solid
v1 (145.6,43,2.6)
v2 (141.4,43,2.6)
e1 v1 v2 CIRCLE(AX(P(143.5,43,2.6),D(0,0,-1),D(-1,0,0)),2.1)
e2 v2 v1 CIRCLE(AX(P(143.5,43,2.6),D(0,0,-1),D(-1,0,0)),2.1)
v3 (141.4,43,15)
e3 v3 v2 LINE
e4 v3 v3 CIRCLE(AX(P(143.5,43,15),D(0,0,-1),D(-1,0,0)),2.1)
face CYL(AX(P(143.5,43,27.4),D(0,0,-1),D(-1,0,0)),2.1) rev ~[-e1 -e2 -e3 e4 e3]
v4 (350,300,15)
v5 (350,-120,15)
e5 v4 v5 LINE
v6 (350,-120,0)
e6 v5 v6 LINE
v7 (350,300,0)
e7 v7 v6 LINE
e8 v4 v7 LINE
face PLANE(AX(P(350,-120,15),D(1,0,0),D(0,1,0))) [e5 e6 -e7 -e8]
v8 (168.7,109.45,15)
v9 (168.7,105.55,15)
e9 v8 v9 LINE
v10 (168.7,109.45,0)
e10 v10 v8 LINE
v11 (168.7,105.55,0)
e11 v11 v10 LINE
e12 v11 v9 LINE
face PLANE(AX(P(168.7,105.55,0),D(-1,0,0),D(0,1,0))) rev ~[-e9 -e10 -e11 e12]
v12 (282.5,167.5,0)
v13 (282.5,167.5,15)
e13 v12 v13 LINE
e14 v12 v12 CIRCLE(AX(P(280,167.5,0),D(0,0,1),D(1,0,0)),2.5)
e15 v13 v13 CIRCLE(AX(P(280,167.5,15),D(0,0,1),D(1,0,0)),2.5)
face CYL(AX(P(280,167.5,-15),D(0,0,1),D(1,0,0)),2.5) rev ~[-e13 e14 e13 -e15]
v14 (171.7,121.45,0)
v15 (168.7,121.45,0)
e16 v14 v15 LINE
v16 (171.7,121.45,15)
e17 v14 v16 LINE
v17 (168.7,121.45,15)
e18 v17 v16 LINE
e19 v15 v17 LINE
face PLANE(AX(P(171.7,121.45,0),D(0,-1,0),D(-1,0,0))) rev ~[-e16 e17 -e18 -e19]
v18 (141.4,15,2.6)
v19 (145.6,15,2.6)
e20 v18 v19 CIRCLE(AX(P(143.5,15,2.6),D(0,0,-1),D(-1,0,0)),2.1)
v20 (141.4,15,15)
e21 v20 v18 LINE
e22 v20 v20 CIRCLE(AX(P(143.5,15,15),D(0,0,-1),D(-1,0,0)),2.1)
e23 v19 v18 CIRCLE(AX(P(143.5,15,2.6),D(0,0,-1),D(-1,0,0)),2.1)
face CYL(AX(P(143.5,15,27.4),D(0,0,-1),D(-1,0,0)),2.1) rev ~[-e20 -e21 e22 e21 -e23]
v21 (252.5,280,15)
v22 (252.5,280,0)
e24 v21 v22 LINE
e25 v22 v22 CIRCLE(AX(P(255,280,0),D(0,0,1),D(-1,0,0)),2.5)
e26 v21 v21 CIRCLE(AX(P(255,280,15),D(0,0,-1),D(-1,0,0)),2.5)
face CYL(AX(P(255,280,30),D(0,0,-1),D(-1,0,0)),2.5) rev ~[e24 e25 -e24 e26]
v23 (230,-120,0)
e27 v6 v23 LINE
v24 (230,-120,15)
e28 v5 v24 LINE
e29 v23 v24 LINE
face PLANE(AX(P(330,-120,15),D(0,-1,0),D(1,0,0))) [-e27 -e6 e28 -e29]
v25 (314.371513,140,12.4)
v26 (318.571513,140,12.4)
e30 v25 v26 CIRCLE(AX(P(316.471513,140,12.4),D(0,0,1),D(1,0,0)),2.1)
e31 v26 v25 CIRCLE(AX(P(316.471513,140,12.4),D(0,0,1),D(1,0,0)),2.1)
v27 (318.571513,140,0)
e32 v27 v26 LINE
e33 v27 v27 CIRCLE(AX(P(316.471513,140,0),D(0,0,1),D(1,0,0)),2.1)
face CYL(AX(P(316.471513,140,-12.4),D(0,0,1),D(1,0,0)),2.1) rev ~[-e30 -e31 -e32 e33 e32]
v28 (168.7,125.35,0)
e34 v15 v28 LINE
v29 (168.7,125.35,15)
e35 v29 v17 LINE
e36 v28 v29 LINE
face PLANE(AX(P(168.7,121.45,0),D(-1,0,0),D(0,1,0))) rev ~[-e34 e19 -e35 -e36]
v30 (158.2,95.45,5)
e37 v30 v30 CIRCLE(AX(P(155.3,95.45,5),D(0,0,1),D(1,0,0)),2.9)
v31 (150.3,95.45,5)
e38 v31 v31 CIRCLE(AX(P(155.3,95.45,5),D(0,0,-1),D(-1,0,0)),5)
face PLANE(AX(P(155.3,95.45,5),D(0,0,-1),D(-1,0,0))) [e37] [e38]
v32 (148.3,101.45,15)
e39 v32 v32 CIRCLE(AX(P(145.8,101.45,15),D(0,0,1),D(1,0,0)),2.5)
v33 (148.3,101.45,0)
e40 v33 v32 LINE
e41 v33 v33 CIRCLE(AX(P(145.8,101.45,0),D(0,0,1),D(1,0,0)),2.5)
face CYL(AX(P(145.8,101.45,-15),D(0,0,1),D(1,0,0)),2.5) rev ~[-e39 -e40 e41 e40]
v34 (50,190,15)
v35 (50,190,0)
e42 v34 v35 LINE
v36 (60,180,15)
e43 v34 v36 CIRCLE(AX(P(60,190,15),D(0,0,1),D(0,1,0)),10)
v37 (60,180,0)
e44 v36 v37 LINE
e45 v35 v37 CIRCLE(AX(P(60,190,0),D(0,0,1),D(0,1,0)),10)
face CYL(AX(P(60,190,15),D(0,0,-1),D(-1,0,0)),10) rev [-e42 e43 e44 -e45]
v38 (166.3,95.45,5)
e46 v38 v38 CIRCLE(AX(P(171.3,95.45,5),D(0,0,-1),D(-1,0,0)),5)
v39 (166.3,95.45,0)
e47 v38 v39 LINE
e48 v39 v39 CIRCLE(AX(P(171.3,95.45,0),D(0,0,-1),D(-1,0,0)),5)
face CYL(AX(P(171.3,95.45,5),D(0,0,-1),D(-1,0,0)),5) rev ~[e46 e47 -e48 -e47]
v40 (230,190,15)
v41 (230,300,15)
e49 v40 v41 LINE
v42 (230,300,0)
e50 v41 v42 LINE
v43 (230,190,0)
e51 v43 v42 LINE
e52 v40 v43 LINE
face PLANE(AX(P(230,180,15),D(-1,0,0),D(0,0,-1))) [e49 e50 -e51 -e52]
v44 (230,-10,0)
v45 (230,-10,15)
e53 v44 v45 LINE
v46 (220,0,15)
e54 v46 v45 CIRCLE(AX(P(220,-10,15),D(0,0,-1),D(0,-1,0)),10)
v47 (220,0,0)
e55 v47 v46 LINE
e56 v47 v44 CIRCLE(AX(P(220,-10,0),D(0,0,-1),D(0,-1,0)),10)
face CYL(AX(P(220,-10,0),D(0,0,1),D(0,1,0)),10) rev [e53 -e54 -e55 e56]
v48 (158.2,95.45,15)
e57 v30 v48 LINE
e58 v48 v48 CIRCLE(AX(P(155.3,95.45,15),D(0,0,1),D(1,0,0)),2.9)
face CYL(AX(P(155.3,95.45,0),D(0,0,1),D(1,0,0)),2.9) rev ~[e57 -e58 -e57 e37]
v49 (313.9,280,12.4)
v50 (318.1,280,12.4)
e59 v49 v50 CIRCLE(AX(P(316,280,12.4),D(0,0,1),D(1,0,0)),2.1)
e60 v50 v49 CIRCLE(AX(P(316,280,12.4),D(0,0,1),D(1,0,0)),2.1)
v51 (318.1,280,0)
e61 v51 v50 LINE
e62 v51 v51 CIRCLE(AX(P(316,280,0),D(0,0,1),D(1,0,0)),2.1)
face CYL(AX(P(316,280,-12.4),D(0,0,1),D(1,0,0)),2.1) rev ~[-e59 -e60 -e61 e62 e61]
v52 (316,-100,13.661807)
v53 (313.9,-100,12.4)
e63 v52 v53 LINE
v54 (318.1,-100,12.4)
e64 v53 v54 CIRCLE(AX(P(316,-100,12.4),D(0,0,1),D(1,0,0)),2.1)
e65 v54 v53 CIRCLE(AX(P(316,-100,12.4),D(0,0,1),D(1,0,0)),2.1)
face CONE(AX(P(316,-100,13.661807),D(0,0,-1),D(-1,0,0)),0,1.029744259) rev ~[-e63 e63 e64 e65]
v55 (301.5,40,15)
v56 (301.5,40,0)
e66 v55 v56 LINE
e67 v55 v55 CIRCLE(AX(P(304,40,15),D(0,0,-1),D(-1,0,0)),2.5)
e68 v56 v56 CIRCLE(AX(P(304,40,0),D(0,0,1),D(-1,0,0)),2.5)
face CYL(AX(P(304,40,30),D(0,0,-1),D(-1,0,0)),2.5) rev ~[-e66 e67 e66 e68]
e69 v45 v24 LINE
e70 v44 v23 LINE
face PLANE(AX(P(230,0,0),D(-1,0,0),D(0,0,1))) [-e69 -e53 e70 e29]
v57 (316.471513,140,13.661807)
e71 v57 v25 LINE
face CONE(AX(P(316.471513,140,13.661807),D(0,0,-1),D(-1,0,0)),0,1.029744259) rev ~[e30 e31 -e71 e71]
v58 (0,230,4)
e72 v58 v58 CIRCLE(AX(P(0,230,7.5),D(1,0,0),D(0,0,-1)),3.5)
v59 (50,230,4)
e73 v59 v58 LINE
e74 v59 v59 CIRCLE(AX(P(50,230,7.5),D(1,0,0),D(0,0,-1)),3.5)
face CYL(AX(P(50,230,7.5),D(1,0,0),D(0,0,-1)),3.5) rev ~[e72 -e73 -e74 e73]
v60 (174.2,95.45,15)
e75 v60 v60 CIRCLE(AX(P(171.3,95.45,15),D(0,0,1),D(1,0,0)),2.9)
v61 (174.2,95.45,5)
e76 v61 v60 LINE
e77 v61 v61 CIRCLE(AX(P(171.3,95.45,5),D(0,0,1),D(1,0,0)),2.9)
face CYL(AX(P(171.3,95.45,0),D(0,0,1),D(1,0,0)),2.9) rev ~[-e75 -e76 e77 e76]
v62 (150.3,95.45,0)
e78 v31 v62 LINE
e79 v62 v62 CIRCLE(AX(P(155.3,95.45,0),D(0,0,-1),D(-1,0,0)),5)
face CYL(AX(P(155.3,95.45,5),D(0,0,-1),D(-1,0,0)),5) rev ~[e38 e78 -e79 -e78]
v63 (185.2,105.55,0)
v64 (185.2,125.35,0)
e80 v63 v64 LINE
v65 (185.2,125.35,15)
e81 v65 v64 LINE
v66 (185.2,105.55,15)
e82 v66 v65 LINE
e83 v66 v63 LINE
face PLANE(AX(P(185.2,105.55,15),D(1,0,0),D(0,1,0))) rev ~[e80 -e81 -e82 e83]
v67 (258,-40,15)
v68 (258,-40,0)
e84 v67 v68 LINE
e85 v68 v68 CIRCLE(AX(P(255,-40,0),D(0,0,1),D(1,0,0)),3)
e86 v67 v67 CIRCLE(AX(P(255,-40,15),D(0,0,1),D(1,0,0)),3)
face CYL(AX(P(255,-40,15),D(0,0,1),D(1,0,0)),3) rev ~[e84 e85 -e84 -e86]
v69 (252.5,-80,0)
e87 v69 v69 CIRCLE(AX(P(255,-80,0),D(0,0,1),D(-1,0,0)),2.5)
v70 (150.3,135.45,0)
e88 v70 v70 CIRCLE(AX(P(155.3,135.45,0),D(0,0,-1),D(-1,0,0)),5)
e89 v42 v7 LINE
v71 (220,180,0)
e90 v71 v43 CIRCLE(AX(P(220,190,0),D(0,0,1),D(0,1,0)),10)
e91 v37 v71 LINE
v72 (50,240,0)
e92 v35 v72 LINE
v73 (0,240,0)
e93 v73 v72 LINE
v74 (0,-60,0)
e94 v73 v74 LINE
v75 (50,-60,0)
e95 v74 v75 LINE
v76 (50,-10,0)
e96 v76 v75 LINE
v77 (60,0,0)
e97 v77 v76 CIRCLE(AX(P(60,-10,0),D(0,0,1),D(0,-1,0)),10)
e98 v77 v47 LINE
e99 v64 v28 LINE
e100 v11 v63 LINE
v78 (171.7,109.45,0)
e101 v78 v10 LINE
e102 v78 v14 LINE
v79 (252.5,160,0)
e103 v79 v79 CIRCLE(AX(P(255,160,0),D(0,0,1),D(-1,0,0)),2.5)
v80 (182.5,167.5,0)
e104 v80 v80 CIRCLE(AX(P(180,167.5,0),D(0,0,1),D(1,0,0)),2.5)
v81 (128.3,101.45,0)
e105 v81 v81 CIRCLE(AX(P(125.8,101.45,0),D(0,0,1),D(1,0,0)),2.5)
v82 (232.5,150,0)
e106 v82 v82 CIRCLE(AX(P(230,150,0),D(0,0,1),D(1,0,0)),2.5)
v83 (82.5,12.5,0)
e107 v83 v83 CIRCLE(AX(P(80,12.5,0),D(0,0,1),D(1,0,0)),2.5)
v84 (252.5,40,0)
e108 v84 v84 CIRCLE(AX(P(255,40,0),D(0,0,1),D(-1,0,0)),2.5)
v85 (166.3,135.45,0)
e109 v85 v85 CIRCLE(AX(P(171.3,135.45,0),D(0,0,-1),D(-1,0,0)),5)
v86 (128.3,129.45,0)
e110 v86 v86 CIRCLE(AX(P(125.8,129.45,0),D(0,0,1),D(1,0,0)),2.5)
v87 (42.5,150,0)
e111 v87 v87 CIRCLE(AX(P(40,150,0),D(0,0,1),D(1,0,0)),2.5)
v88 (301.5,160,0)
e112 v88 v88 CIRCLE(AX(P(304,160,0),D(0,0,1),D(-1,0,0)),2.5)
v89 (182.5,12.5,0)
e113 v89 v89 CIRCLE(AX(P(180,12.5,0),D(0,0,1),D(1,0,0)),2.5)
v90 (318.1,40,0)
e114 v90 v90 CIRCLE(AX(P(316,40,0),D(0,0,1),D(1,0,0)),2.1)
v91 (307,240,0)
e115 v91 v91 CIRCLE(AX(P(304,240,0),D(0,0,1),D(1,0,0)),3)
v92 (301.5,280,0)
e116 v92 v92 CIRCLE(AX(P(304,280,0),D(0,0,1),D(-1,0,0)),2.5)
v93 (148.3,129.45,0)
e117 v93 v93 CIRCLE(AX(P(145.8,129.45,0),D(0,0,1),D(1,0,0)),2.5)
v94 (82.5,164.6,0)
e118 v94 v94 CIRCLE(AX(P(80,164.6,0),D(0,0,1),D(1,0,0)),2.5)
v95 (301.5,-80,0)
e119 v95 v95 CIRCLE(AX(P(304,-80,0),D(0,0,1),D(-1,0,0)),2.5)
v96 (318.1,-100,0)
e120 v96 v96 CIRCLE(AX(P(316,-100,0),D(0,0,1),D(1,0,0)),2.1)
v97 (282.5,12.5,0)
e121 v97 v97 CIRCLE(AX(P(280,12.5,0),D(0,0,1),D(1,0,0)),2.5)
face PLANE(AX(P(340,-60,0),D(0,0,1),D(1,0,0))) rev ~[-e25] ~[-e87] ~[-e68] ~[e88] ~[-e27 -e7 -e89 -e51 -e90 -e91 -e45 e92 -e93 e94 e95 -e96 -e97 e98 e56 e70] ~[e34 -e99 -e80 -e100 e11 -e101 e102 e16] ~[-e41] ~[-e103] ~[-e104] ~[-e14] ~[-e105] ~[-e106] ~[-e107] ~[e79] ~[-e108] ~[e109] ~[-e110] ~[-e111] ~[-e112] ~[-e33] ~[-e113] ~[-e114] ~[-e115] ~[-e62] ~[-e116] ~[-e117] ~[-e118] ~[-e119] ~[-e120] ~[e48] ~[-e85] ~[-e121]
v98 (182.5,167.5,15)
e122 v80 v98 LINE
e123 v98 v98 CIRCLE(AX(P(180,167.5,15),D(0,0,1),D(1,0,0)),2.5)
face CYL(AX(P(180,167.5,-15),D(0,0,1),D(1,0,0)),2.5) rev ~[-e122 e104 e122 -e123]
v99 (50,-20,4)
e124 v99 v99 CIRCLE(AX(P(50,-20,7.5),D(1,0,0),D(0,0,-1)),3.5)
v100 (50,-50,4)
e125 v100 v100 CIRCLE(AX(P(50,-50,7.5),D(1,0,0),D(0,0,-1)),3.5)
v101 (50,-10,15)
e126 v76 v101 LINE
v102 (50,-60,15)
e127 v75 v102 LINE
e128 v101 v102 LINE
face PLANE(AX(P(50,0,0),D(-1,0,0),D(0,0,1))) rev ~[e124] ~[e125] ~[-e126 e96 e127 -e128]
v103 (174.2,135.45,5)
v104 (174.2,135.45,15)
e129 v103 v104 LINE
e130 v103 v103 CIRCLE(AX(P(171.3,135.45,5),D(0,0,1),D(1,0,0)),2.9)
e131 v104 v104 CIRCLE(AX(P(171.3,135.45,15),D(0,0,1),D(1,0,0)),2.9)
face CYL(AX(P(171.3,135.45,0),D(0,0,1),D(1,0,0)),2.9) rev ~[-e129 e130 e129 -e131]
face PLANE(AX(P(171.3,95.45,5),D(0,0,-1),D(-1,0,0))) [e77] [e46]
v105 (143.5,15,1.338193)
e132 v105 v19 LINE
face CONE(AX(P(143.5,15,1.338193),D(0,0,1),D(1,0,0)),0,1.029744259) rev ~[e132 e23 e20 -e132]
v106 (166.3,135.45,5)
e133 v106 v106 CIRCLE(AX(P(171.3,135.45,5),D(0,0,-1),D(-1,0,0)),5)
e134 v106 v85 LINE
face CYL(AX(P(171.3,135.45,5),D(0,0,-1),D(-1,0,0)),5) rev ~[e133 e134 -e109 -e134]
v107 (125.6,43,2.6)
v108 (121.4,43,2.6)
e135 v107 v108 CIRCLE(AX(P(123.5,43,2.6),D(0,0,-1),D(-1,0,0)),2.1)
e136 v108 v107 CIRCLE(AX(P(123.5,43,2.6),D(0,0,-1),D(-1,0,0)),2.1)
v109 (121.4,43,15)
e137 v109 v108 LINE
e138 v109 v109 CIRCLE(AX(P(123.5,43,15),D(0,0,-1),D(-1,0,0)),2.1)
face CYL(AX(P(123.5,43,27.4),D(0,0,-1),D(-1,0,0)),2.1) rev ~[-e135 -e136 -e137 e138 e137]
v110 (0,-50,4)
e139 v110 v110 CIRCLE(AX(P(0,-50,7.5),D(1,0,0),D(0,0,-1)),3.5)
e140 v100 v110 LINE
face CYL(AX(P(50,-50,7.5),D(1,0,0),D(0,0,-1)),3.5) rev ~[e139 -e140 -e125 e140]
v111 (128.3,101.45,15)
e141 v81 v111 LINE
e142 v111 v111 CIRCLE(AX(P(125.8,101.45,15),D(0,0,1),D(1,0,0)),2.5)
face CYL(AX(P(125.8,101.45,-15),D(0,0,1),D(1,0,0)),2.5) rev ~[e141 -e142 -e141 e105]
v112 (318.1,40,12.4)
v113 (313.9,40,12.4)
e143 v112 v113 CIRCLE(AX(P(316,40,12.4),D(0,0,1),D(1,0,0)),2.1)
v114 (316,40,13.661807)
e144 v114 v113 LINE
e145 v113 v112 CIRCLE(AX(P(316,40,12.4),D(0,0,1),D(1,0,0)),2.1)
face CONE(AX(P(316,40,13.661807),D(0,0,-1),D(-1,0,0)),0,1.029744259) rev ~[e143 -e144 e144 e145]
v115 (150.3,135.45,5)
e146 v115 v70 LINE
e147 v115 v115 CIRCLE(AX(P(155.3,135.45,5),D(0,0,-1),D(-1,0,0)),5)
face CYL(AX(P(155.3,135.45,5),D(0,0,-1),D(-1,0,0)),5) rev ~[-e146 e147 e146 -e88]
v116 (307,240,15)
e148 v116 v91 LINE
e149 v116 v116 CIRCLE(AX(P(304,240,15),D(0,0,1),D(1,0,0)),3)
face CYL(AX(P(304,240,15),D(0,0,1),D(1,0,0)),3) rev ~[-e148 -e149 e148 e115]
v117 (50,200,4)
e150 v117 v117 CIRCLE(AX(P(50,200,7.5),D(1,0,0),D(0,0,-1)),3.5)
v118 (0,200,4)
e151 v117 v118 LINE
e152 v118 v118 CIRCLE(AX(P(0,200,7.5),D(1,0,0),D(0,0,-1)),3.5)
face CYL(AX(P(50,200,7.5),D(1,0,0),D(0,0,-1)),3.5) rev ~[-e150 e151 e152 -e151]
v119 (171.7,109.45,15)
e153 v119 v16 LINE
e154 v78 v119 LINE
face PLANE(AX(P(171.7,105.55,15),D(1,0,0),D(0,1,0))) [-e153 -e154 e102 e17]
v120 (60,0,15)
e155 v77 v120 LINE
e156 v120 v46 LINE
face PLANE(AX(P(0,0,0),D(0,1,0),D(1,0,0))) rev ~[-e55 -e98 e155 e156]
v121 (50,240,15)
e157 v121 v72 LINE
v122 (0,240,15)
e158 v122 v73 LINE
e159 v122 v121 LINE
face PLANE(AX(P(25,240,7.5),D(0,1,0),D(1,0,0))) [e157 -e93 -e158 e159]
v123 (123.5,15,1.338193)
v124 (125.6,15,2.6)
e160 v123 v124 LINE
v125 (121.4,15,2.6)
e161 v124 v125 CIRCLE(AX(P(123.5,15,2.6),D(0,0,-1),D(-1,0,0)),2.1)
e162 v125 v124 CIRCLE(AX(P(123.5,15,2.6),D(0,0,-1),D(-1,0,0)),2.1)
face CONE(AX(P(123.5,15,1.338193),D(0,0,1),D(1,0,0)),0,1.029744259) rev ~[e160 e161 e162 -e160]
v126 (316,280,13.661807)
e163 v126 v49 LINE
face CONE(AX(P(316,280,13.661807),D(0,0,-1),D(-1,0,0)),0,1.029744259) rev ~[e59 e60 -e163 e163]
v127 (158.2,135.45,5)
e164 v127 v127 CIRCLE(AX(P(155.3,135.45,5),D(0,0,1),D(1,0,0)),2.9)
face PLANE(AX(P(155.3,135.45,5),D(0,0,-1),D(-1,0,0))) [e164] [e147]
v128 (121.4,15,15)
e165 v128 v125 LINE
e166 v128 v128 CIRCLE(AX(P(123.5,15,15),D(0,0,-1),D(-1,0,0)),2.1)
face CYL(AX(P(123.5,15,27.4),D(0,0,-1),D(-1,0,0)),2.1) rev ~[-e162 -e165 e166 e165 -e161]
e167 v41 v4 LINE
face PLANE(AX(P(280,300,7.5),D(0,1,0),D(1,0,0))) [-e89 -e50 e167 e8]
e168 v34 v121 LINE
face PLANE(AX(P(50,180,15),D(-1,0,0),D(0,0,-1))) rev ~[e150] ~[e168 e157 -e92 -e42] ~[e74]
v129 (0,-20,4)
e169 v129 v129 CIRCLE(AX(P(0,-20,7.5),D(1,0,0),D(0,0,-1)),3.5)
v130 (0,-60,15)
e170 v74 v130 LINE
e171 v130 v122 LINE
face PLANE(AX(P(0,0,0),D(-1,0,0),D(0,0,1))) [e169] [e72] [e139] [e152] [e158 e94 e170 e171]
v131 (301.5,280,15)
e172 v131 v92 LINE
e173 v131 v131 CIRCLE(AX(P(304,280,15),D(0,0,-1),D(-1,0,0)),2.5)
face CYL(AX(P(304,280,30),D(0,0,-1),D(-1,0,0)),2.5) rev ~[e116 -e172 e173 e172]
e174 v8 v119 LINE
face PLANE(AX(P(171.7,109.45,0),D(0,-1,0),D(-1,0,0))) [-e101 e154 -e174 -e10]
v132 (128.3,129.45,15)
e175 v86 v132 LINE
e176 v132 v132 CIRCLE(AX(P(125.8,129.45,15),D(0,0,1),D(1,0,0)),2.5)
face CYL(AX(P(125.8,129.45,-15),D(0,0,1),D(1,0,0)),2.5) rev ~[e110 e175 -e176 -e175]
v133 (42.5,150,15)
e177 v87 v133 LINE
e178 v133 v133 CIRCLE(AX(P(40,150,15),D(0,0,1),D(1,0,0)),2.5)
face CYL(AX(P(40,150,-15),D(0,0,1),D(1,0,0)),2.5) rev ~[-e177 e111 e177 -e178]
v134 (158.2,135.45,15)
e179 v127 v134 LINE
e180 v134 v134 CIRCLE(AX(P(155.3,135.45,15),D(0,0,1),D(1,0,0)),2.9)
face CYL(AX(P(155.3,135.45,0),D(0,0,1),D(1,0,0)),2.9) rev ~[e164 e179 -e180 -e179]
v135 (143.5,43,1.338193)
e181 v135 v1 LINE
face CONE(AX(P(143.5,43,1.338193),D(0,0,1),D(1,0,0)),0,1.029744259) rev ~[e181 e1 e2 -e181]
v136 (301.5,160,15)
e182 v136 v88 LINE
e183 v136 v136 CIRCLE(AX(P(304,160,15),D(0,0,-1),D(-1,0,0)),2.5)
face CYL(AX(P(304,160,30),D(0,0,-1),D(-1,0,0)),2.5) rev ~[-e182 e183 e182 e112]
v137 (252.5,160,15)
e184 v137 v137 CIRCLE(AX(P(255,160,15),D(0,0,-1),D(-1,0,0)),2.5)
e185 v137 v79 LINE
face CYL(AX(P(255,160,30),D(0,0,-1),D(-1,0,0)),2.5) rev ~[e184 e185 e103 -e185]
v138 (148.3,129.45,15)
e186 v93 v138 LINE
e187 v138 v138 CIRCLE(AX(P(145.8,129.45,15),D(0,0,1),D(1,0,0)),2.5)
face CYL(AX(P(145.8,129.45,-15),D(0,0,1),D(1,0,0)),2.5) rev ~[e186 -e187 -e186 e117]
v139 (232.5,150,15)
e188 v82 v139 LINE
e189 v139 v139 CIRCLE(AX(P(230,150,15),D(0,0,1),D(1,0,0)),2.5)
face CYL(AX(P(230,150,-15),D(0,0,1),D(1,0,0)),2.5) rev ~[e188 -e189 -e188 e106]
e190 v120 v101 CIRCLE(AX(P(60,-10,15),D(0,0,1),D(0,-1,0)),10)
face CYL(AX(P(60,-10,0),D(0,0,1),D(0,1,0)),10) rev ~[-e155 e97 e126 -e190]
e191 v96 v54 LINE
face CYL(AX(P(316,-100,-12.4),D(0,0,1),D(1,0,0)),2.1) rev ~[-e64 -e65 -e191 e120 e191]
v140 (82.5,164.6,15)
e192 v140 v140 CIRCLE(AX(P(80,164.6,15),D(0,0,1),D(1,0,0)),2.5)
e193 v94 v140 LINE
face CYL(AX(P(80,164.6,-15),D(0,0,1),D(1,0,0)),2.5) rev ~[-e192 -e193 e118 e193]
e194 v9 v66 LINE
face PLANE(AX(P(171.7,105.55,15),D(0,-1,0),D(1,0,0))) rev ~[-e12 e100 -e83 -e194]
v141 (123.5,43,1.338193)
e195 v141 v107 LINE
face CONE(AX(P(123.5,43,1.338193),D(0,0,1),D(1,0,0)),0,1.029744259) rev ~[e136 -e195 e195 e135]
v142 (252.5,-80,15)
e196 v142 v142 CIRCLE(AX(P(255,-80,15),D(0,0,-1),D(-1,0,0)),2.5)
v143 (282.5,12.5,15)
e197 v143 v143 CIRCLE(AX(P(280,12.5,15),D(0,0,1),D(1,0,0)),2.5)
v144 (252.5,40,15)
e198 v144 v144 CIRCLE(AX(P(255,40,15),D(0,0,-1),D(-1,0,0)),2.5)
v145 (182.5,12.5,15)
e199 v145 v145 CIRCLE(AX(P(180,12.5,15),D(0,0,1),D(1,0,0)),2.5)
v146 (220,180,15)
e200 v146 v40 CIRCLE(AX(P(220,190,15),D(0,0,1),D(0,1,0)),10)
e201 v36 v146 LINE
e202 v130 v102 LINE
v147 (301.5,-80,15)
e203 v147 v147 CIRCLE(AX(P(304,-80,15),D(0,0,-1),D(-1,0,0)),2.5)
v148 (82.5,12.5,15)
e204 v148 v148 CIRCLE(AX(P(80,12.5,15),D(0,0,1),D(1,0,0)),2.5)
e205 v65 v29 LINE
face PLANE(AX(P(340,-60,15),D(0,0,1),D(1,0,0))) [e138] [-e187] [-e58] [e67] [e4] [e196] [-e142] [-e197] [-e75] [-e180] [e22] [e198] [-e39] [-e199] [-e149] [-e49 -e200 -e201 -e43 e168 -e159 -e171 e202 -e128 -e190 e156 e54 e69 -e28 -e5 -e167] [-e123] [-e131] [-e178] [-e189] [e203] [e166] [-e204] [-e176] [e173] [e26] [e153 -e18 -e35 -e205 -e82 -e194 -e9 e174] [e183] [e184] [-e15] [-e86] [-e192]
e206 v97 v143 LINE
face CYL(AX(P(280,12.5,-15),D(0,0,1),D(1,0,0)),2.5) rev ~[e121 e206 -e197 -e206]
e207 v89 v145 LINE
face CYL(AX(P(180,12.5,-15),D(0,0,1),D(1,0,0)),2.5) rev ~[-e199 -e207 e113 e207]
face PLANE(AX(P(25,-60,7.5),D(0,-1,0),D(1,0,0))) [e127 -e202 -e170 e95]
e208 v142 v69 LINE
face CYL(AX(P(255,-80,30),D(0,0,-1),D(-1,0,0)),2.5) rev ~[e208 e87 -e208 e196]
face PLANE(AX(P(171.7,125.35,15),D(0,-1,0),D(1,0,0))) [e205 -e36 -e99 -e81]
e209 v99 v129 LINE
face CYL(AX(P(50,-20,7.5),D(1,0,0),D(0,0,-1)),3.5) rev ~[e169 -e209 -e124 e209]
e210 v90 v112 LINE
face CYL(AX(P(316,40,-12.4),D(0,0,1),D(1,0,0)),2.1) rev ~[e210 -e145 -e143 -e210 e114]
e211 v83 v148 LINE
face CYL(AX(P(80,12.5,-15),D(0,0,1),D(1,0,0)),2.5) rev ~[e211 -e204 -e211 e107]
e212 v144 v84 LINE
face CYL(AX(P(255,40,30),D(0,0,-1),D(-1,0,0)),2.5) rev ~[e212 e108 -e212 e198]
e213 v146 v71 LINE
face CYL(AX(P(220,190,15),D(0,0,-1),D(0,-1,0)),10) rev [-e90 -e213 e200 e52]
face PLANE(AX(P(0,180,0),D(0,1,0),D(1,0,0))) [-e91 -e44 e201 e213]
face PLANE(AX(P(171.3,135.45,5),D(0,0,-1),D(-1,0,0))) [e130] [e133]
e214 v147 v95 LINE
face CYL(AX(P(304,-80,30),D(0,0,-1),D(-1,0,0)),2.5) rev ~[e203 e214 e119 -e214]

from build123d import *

# Parameters (mm, degrees)
SKETCH_1_W                     = 391
SKETCH_1_H                     = 180
EXTRUDE_1_DEPTH                = 15
SKETCH_3_W                     = 9.5
SKETCH_3_H                     = 15.8
CUT_EXTRUDE_2_DEPTH            = 431.704074743
SKETCH_4_W                     = 13.5
SKETCH_4_H                     = 19.8
CUT_EXTRUDE_3_DEPTH            = 431.704074743
SKETCH_6_W                     = 100
SKETCH_6_H                     = 15
EXTRUDE_2_DEPTH                = 120
SKETCH_7_W                     = 100
SKETCH_7_H                     = 15
EXTRUDE_3_DEPTH                = 120
FILLET_1_R                     = 10
SKETCH_8_W                     = 41
SKETCH_8_H                     = 180
CUT_EXTRUDE_5_DEPTH            = 120
FILLET_2_R                     = 10
SKETCH_9_W                     = 50
SKETCH_9_H                     = 15
EXTRUDE_4_DEPTH                = 60
SKETCH_10_W                    = 50
SKETCH_10_H                    = 15
EXTRUDE_5_DEPTH                = 60
SKETCH_11_W                    = 20
SKETCH_11_H                    = 120
EXTRUDE_6_DEPTH                = 15
FILLET_3_R                     = 10
SKETCH_12_W                    = 3
SKETCH_12_H                    = 3.9
CUT_EXTRUDE_6_DEPTH            = 462.221205063
SKETCH_13_R                    = 3.5
CUT_EXTRUDE_7_DEPTH            = 425.529150943
HOLE_WIZARD_M5_1_D             = 4.2
HOLE_WIZARD_M5_1_DEPTH         = 12.4
HOLE_WIZARD_M5_1_TIP           = 1.2618073
HOLE_WIZARD_M6_1_D             = 5
HOLE_WIZARD_M6_1_DEPTH         = 15
HOLE_WIZARD_M6_1_TIP           = 1.502151548
HOLE_WIZARD_M6_2_D             = 5
HOLE_WIZARD_M6_2_DEPTH         = 15
HOLE_WIZARD_M6_2_TIP           = 1.502151548
HOLE_WIZARD_M5_1_2_D           = 5.8
HOLE_WIZARD_M5_1_2_CBORE_D     = 10
HOLE_WIZARD_M5_1_2_CBORE_DEPTH = 5
HOLE_WIZARD_M6_3_D             = 5
HOLE_WIZARD_M6_3_DEPTH         = 15
HOLE_WIZARD_M6_3_TIP           = 1.502151548
HOLE_WIZARD_M6_4_D             = 5
HOLE_WIZARD_M6_4_DEPTH         = 15
HOLE_WIZARD_M6_4_TIP           = 1.502151548
HOLE_WIZARD_M5_2_D             = 4.2
HOLE_WIZARD_M5_2_DEPTH         = 12.4
HOLE_WIZARD_M5_2_TIP           = 1.2618073
SKETCH_28_R                    = 3
CUT_EXTRUDE_8_DEPTH            = 462.221205063


with BuildPart() as part:
    # 草图1 → 凸台-拉伸1 (new body)
    with BuildSketch(Plane.XY):
        with Locations((195.5, 90)):
            Rectangle(SKETCH_1_W, SKETCH_1_H)
    extrude(amount=EXTRUDE_1_DEPTH)

    # 草图3 → 切除-拉伸2 (cut, through all)
    with BuildSketch(Plane.XY.offset(15)):
        with Locations((178.45, 115.45)):
            Rectangle(SKETCH_3_W, SKETCH_3_H)
    extrude(amount=-CUT_EXTRUDE_2_DEPTH, mode=Mode.SUBTRACT)

    # 草图4 → 切除-拉伸3 (cut, through all)
    with BuildSketch(Plane.XY.offset(15)):
        with Locations((178.45, 115.45)):
            Rectangle(SKETCH_4_W, SKETCH_4_H)
    extrude(amount=-CUT_EXTRUDE_3_DEPTH, mode=Mode.SUBTRACT)

    # 草图6 → 凸台-拉伸2 (add)
    with BuildSketch(Plane(origin=(0, 180, 0), x_dir=(1, 0, 0), z_dir=(0, 1, 0))):
        with Locations((280, -7.5)):
            Rectangle(SKETCH_6_W, SKETCH_6_H)
    extrude(amount=EXTRUDE_2_DEPTH)

    # 草图7 → 凸台-拉伸3 (add)
    with BuildSketch(Plane.XZ):
        with Locations((280, 7.5)):
            Rectangle(SKETCH_7_W, SKETCH_7_H)
    extrude(amount=EXTRUDE_3_DEPTH)

    # 圆角1
    fillet_1_edges = [part.edges().sort_by_distance(p)[0] for p in [
        (230, 0, 7.5),
        (230, 180, 7.5),
    ]]
    fillet(fillet_1_edges, radius=FILLET_1_R)

    # 草图8 → 切除-拉伸5 (cut)
    with BuildSketch(Plane.XY.offset(15)):
        with Locations((370.5, 90)):
            Rectangle(SKETCH_8_W, SKETCH_8_H)
    extrude(amount=-CUT_EXTRUDE_5_DEPTH, mode=Mode.SUBTRACT)

    # 圆角2
    fillet_2_edges = [part.edges().sort_by_distance(p)[0] for p in [
        (330, 0, 7.5),
        (330, 180, 7.5),
    ]]
    fillet(fillet_2_edges, radius=FILLET_2_R)

    # 草图9 → 凸台-拉伸4 (add)
    with BuildSketch(Plane(origin=(0, 180, 0), x_dir=(1, 0, 0), z_dir=(0, 1, 0))):
        with Locations((25, -7.5)):
            Rectangle(SKETCH_9_W, SKETCH_9_H)
    extrude(amount=EXTRUDE_4_DEPTH)

    # 草图10 → 凸台-拉伸5 (add)
    with BuildSketch(Plane.XZ):
        with Locations((25, 7.5)):
            Rectangle(SKETCH_10_W, SKETCH_10_H)
    extrude(amount=EXTRUDE_5_DEPTH)

    # 草图11 → 凸台-拉伸6 (add)
    with BuildSketch(Plane.XY.offset(15)):
        with Locations((340, -60)):
            Rectangle(SKETCH_11_W, SKETCH_11_H)
        with Locations((340, 240)):
            Rectangle(SKETCH_11_W, SKETCH_11_H)
    extrude(amount=-EXTRUDE_6_DEPTH)

    # 圆角3
    fillet_3_edges = [part.edges().sort_by_distance(p)[0] for p in [
        (50, 0, 7.5),
        (50, 180, 7.5),
    ]]
    fillet(fillet_3_edges, radius=FILLET_3_R)

    # 草图12 → 切除-拉伸6 (cut, through all)
    with BuildSketch(Plane(origin=(0, 0, 0), x_dir=(-1, 0, 0), z_dir=(0, 0, -1))):
        with Locations((-170.2, 107.5)):
            Rectangle(SKETCH_12_W, SKETCH_12_H)
        with Locations((-170.2, 123.4)):
            Rectangle(SKETCH_12_W, SKETCH_12_H)
    extrude(amount=-CUT_EXTRUDE_6_DEPTH, mode=Mode.SUBTRACT)

    # 草图13 → 切除-拉伸7 (cut, through all)
    with BuildSketch(Plane(origin=(50, 0, 0), x_dir=(0, 0, -1), z_dir=(1, 0, 0))):
        with Locations((-7.5, -50)):
            Circle(SKETCH_13_R)
        with Locations((-7.5, -20)):
            Circle(SKETCH_13_R)
        with Locations((-7.5, 230)):
            Circle(SKETCH_13_R)
        with Locations((-7.5, 200)):
            Circle(SKETCH_13_R)
    extrude(amount=-CUT_EXTRUDE_7_DEPTH, mode=Mode.SUBTRACT)

    # Hole Wizard M5 _1
    with Locations(Plane(origin=(0, 0, 0), x_dir=(-1, 0, 0), z_dir=(0, 0, -1))):
        with Locations((-316, 280), (-316.471513322, 140), (-316, 40), (-316, -100)):
            Hole(HOLE_WIZARD_M5_1_D / 2, depth=HOLE_WIZARD_M5_1_DEPTH)
            with Locations((0, 0, -(HOLE_WIZARD_M5_1_DEPTH + HOLE_WIZARD_M5_1_TIP / 2))):  # 118° drill point
                Cone(0, HOLE_WIZARD_M5_1_D / 2, HOLE_WIZARD_M5_1_TIP, mode=Mode.SUBTRACT)

    # M6 螺纹孔1
    with Locations(Plane(origin=(0, 0, 0), x_dir=(-1, 0, 0), z_dir=(0, 0, -1))):
        with Locations((-280, 167.5), (-180, 167.5), (-80, 164.6), (-280, 12.5), (-180, 12.5), (-80, 12.5)):
            Hole(HOLE_WIZARD_M6_1_D / 2, depth=HOLE_WIZARD_M6_1_DEPTH)
            with Locations((0, 0, -(HOLE_WIZARD_M6_1_DEPTH + HOLE_WIZARD_M6_1_TIP / 2))):  # 118° drill point
                Cone(0, HOLE_WIZARD_M6_1_D / 2, HOLE_WIZARD_M6_1_TIP, mode=Mode.SUBTRACT)

    # M6 螺纹孔2
    with Locations(Plane(origin=(0, 0, 0), x_dir=(-1, 0, 0), z_dir=(0, 0, -1))):
        with Locations((-125.8, 129.45), (-145.8, 129.45), (-145.8, 101.45), (-125.8, 101.45)):
            Hole(HOLE_WIZARD_M6_2_D / 2, depth=HOLE_WIZARD_M6_2_DEPTH)
            with Locations((0, 0, -(HOLE_WIZARD_M6_2_DEPTH + HOLE_WIZARD_M6_2_TIP / 2))):  # 118° drill point
                Cone(0, HOLE_WIZARD_M6_2_D / 2, HOLE_WIZARD_M6_2_TIP, mode=Mode.SUBTRACT)

    # Hole Wizard M5 _1 2 (through all)
    with Locations(Plane(origin=(0, 0, 0), x_dir=(-1, 0, 0), z_dir=(0, 0, -1))):
        with Locations((-171.3, 95.45), (-155.3, 95.45), (-171.3, 135.45), (-155.3, 135.45)):
            CounterBoreHole(HOLE_WIZARD_M5_1_2_D / 2, HOLE_WIZARD_M5_1_2_CBORE_D / 2, HOLE_WIZARD_M5_1_2_CBORE_DEPTH)

    # M6 螺纹孔3
    with Locations(Plane.XY.offset(15)):
        with Locations((304, 280), (255, 280), (255, 160), (304, 160), (304, -80), (255, -80), (255, 40), (304, 40)):
            Hole(HOLE_WIZARD_M6_3_D / 2, depth=HOLE_WIZARD_M6_3_DEPTH)
            with Locations((0, 0, -(HOLE_WIZARD_M6_3_DEPTH + HOLE_WIZARD_M6_3_TIP / 2))):  # 118° drill point
                Cone(0, HOLE_WIZARD_M6_3_D / 2, HOLE_WIZARD_M6_3_TIP, mode=Mode.SUBTRACT)

    # M6 螺纹孔4
    with Locations(Plane(origin=(0, 0, 0), x_dir=(-1, 0, 0), z_dir=(0, 0, -1))):
        with Locations((-40, 150), (-230, 150)):
            Hole(HOLE_WIZARD_M6_4_D / 2, depth=HOLE_WIZARD_M6_4_DEPTH)
            with Locations((0, 0, -(HOLE_WIZARD_M6_4_DEPTH + HOLE_WIZARD_M6_4_TIP / 2))):  # 118° drill point
                Cone(0, HOLE_WIZARD_M6_4_D / 2, HOLE_WIZARD_M6_4_TIP, mode=Mode.SUBTRACT)

    # M5 螺纹孔2
    with Locations(Plane.XY.offset(15)):
        with Locations((123.5, 43), (143.5, 43), (143.5, 15), (123.5, 15)):
            Hole(HOLE_WIZARD_M5_2_D / 2, depth=HOLE_WIZARD_M5_2_DEPTH)
            with Locations((0, 0, -(HOLE_WIZARD_M5_2_DEPTH + HOLE_WIZARD_M5_2_TIP / 2))):  # 118° drill point
                Cone(0, HOLE_WIZARD_M5_2_D / 2, HOLE_WIZARD_M5_2_TIP, mode=Mode.SUBTRACT)

    # 草图28 → 切除-拉伸8 (cut, through all)
    with BuildSketch(Plane.XY.offset(15)):
        with Locations((304, 240)):
            Circle(SKETCH_28_R)
        with Locations((255, -40)):
            Circle(SKETCH_28_R)
    extrude(amount=-CUT_EXTRUDE_8_DEPTH, mode=Mode.SUBTRACT)


solid = part.part
